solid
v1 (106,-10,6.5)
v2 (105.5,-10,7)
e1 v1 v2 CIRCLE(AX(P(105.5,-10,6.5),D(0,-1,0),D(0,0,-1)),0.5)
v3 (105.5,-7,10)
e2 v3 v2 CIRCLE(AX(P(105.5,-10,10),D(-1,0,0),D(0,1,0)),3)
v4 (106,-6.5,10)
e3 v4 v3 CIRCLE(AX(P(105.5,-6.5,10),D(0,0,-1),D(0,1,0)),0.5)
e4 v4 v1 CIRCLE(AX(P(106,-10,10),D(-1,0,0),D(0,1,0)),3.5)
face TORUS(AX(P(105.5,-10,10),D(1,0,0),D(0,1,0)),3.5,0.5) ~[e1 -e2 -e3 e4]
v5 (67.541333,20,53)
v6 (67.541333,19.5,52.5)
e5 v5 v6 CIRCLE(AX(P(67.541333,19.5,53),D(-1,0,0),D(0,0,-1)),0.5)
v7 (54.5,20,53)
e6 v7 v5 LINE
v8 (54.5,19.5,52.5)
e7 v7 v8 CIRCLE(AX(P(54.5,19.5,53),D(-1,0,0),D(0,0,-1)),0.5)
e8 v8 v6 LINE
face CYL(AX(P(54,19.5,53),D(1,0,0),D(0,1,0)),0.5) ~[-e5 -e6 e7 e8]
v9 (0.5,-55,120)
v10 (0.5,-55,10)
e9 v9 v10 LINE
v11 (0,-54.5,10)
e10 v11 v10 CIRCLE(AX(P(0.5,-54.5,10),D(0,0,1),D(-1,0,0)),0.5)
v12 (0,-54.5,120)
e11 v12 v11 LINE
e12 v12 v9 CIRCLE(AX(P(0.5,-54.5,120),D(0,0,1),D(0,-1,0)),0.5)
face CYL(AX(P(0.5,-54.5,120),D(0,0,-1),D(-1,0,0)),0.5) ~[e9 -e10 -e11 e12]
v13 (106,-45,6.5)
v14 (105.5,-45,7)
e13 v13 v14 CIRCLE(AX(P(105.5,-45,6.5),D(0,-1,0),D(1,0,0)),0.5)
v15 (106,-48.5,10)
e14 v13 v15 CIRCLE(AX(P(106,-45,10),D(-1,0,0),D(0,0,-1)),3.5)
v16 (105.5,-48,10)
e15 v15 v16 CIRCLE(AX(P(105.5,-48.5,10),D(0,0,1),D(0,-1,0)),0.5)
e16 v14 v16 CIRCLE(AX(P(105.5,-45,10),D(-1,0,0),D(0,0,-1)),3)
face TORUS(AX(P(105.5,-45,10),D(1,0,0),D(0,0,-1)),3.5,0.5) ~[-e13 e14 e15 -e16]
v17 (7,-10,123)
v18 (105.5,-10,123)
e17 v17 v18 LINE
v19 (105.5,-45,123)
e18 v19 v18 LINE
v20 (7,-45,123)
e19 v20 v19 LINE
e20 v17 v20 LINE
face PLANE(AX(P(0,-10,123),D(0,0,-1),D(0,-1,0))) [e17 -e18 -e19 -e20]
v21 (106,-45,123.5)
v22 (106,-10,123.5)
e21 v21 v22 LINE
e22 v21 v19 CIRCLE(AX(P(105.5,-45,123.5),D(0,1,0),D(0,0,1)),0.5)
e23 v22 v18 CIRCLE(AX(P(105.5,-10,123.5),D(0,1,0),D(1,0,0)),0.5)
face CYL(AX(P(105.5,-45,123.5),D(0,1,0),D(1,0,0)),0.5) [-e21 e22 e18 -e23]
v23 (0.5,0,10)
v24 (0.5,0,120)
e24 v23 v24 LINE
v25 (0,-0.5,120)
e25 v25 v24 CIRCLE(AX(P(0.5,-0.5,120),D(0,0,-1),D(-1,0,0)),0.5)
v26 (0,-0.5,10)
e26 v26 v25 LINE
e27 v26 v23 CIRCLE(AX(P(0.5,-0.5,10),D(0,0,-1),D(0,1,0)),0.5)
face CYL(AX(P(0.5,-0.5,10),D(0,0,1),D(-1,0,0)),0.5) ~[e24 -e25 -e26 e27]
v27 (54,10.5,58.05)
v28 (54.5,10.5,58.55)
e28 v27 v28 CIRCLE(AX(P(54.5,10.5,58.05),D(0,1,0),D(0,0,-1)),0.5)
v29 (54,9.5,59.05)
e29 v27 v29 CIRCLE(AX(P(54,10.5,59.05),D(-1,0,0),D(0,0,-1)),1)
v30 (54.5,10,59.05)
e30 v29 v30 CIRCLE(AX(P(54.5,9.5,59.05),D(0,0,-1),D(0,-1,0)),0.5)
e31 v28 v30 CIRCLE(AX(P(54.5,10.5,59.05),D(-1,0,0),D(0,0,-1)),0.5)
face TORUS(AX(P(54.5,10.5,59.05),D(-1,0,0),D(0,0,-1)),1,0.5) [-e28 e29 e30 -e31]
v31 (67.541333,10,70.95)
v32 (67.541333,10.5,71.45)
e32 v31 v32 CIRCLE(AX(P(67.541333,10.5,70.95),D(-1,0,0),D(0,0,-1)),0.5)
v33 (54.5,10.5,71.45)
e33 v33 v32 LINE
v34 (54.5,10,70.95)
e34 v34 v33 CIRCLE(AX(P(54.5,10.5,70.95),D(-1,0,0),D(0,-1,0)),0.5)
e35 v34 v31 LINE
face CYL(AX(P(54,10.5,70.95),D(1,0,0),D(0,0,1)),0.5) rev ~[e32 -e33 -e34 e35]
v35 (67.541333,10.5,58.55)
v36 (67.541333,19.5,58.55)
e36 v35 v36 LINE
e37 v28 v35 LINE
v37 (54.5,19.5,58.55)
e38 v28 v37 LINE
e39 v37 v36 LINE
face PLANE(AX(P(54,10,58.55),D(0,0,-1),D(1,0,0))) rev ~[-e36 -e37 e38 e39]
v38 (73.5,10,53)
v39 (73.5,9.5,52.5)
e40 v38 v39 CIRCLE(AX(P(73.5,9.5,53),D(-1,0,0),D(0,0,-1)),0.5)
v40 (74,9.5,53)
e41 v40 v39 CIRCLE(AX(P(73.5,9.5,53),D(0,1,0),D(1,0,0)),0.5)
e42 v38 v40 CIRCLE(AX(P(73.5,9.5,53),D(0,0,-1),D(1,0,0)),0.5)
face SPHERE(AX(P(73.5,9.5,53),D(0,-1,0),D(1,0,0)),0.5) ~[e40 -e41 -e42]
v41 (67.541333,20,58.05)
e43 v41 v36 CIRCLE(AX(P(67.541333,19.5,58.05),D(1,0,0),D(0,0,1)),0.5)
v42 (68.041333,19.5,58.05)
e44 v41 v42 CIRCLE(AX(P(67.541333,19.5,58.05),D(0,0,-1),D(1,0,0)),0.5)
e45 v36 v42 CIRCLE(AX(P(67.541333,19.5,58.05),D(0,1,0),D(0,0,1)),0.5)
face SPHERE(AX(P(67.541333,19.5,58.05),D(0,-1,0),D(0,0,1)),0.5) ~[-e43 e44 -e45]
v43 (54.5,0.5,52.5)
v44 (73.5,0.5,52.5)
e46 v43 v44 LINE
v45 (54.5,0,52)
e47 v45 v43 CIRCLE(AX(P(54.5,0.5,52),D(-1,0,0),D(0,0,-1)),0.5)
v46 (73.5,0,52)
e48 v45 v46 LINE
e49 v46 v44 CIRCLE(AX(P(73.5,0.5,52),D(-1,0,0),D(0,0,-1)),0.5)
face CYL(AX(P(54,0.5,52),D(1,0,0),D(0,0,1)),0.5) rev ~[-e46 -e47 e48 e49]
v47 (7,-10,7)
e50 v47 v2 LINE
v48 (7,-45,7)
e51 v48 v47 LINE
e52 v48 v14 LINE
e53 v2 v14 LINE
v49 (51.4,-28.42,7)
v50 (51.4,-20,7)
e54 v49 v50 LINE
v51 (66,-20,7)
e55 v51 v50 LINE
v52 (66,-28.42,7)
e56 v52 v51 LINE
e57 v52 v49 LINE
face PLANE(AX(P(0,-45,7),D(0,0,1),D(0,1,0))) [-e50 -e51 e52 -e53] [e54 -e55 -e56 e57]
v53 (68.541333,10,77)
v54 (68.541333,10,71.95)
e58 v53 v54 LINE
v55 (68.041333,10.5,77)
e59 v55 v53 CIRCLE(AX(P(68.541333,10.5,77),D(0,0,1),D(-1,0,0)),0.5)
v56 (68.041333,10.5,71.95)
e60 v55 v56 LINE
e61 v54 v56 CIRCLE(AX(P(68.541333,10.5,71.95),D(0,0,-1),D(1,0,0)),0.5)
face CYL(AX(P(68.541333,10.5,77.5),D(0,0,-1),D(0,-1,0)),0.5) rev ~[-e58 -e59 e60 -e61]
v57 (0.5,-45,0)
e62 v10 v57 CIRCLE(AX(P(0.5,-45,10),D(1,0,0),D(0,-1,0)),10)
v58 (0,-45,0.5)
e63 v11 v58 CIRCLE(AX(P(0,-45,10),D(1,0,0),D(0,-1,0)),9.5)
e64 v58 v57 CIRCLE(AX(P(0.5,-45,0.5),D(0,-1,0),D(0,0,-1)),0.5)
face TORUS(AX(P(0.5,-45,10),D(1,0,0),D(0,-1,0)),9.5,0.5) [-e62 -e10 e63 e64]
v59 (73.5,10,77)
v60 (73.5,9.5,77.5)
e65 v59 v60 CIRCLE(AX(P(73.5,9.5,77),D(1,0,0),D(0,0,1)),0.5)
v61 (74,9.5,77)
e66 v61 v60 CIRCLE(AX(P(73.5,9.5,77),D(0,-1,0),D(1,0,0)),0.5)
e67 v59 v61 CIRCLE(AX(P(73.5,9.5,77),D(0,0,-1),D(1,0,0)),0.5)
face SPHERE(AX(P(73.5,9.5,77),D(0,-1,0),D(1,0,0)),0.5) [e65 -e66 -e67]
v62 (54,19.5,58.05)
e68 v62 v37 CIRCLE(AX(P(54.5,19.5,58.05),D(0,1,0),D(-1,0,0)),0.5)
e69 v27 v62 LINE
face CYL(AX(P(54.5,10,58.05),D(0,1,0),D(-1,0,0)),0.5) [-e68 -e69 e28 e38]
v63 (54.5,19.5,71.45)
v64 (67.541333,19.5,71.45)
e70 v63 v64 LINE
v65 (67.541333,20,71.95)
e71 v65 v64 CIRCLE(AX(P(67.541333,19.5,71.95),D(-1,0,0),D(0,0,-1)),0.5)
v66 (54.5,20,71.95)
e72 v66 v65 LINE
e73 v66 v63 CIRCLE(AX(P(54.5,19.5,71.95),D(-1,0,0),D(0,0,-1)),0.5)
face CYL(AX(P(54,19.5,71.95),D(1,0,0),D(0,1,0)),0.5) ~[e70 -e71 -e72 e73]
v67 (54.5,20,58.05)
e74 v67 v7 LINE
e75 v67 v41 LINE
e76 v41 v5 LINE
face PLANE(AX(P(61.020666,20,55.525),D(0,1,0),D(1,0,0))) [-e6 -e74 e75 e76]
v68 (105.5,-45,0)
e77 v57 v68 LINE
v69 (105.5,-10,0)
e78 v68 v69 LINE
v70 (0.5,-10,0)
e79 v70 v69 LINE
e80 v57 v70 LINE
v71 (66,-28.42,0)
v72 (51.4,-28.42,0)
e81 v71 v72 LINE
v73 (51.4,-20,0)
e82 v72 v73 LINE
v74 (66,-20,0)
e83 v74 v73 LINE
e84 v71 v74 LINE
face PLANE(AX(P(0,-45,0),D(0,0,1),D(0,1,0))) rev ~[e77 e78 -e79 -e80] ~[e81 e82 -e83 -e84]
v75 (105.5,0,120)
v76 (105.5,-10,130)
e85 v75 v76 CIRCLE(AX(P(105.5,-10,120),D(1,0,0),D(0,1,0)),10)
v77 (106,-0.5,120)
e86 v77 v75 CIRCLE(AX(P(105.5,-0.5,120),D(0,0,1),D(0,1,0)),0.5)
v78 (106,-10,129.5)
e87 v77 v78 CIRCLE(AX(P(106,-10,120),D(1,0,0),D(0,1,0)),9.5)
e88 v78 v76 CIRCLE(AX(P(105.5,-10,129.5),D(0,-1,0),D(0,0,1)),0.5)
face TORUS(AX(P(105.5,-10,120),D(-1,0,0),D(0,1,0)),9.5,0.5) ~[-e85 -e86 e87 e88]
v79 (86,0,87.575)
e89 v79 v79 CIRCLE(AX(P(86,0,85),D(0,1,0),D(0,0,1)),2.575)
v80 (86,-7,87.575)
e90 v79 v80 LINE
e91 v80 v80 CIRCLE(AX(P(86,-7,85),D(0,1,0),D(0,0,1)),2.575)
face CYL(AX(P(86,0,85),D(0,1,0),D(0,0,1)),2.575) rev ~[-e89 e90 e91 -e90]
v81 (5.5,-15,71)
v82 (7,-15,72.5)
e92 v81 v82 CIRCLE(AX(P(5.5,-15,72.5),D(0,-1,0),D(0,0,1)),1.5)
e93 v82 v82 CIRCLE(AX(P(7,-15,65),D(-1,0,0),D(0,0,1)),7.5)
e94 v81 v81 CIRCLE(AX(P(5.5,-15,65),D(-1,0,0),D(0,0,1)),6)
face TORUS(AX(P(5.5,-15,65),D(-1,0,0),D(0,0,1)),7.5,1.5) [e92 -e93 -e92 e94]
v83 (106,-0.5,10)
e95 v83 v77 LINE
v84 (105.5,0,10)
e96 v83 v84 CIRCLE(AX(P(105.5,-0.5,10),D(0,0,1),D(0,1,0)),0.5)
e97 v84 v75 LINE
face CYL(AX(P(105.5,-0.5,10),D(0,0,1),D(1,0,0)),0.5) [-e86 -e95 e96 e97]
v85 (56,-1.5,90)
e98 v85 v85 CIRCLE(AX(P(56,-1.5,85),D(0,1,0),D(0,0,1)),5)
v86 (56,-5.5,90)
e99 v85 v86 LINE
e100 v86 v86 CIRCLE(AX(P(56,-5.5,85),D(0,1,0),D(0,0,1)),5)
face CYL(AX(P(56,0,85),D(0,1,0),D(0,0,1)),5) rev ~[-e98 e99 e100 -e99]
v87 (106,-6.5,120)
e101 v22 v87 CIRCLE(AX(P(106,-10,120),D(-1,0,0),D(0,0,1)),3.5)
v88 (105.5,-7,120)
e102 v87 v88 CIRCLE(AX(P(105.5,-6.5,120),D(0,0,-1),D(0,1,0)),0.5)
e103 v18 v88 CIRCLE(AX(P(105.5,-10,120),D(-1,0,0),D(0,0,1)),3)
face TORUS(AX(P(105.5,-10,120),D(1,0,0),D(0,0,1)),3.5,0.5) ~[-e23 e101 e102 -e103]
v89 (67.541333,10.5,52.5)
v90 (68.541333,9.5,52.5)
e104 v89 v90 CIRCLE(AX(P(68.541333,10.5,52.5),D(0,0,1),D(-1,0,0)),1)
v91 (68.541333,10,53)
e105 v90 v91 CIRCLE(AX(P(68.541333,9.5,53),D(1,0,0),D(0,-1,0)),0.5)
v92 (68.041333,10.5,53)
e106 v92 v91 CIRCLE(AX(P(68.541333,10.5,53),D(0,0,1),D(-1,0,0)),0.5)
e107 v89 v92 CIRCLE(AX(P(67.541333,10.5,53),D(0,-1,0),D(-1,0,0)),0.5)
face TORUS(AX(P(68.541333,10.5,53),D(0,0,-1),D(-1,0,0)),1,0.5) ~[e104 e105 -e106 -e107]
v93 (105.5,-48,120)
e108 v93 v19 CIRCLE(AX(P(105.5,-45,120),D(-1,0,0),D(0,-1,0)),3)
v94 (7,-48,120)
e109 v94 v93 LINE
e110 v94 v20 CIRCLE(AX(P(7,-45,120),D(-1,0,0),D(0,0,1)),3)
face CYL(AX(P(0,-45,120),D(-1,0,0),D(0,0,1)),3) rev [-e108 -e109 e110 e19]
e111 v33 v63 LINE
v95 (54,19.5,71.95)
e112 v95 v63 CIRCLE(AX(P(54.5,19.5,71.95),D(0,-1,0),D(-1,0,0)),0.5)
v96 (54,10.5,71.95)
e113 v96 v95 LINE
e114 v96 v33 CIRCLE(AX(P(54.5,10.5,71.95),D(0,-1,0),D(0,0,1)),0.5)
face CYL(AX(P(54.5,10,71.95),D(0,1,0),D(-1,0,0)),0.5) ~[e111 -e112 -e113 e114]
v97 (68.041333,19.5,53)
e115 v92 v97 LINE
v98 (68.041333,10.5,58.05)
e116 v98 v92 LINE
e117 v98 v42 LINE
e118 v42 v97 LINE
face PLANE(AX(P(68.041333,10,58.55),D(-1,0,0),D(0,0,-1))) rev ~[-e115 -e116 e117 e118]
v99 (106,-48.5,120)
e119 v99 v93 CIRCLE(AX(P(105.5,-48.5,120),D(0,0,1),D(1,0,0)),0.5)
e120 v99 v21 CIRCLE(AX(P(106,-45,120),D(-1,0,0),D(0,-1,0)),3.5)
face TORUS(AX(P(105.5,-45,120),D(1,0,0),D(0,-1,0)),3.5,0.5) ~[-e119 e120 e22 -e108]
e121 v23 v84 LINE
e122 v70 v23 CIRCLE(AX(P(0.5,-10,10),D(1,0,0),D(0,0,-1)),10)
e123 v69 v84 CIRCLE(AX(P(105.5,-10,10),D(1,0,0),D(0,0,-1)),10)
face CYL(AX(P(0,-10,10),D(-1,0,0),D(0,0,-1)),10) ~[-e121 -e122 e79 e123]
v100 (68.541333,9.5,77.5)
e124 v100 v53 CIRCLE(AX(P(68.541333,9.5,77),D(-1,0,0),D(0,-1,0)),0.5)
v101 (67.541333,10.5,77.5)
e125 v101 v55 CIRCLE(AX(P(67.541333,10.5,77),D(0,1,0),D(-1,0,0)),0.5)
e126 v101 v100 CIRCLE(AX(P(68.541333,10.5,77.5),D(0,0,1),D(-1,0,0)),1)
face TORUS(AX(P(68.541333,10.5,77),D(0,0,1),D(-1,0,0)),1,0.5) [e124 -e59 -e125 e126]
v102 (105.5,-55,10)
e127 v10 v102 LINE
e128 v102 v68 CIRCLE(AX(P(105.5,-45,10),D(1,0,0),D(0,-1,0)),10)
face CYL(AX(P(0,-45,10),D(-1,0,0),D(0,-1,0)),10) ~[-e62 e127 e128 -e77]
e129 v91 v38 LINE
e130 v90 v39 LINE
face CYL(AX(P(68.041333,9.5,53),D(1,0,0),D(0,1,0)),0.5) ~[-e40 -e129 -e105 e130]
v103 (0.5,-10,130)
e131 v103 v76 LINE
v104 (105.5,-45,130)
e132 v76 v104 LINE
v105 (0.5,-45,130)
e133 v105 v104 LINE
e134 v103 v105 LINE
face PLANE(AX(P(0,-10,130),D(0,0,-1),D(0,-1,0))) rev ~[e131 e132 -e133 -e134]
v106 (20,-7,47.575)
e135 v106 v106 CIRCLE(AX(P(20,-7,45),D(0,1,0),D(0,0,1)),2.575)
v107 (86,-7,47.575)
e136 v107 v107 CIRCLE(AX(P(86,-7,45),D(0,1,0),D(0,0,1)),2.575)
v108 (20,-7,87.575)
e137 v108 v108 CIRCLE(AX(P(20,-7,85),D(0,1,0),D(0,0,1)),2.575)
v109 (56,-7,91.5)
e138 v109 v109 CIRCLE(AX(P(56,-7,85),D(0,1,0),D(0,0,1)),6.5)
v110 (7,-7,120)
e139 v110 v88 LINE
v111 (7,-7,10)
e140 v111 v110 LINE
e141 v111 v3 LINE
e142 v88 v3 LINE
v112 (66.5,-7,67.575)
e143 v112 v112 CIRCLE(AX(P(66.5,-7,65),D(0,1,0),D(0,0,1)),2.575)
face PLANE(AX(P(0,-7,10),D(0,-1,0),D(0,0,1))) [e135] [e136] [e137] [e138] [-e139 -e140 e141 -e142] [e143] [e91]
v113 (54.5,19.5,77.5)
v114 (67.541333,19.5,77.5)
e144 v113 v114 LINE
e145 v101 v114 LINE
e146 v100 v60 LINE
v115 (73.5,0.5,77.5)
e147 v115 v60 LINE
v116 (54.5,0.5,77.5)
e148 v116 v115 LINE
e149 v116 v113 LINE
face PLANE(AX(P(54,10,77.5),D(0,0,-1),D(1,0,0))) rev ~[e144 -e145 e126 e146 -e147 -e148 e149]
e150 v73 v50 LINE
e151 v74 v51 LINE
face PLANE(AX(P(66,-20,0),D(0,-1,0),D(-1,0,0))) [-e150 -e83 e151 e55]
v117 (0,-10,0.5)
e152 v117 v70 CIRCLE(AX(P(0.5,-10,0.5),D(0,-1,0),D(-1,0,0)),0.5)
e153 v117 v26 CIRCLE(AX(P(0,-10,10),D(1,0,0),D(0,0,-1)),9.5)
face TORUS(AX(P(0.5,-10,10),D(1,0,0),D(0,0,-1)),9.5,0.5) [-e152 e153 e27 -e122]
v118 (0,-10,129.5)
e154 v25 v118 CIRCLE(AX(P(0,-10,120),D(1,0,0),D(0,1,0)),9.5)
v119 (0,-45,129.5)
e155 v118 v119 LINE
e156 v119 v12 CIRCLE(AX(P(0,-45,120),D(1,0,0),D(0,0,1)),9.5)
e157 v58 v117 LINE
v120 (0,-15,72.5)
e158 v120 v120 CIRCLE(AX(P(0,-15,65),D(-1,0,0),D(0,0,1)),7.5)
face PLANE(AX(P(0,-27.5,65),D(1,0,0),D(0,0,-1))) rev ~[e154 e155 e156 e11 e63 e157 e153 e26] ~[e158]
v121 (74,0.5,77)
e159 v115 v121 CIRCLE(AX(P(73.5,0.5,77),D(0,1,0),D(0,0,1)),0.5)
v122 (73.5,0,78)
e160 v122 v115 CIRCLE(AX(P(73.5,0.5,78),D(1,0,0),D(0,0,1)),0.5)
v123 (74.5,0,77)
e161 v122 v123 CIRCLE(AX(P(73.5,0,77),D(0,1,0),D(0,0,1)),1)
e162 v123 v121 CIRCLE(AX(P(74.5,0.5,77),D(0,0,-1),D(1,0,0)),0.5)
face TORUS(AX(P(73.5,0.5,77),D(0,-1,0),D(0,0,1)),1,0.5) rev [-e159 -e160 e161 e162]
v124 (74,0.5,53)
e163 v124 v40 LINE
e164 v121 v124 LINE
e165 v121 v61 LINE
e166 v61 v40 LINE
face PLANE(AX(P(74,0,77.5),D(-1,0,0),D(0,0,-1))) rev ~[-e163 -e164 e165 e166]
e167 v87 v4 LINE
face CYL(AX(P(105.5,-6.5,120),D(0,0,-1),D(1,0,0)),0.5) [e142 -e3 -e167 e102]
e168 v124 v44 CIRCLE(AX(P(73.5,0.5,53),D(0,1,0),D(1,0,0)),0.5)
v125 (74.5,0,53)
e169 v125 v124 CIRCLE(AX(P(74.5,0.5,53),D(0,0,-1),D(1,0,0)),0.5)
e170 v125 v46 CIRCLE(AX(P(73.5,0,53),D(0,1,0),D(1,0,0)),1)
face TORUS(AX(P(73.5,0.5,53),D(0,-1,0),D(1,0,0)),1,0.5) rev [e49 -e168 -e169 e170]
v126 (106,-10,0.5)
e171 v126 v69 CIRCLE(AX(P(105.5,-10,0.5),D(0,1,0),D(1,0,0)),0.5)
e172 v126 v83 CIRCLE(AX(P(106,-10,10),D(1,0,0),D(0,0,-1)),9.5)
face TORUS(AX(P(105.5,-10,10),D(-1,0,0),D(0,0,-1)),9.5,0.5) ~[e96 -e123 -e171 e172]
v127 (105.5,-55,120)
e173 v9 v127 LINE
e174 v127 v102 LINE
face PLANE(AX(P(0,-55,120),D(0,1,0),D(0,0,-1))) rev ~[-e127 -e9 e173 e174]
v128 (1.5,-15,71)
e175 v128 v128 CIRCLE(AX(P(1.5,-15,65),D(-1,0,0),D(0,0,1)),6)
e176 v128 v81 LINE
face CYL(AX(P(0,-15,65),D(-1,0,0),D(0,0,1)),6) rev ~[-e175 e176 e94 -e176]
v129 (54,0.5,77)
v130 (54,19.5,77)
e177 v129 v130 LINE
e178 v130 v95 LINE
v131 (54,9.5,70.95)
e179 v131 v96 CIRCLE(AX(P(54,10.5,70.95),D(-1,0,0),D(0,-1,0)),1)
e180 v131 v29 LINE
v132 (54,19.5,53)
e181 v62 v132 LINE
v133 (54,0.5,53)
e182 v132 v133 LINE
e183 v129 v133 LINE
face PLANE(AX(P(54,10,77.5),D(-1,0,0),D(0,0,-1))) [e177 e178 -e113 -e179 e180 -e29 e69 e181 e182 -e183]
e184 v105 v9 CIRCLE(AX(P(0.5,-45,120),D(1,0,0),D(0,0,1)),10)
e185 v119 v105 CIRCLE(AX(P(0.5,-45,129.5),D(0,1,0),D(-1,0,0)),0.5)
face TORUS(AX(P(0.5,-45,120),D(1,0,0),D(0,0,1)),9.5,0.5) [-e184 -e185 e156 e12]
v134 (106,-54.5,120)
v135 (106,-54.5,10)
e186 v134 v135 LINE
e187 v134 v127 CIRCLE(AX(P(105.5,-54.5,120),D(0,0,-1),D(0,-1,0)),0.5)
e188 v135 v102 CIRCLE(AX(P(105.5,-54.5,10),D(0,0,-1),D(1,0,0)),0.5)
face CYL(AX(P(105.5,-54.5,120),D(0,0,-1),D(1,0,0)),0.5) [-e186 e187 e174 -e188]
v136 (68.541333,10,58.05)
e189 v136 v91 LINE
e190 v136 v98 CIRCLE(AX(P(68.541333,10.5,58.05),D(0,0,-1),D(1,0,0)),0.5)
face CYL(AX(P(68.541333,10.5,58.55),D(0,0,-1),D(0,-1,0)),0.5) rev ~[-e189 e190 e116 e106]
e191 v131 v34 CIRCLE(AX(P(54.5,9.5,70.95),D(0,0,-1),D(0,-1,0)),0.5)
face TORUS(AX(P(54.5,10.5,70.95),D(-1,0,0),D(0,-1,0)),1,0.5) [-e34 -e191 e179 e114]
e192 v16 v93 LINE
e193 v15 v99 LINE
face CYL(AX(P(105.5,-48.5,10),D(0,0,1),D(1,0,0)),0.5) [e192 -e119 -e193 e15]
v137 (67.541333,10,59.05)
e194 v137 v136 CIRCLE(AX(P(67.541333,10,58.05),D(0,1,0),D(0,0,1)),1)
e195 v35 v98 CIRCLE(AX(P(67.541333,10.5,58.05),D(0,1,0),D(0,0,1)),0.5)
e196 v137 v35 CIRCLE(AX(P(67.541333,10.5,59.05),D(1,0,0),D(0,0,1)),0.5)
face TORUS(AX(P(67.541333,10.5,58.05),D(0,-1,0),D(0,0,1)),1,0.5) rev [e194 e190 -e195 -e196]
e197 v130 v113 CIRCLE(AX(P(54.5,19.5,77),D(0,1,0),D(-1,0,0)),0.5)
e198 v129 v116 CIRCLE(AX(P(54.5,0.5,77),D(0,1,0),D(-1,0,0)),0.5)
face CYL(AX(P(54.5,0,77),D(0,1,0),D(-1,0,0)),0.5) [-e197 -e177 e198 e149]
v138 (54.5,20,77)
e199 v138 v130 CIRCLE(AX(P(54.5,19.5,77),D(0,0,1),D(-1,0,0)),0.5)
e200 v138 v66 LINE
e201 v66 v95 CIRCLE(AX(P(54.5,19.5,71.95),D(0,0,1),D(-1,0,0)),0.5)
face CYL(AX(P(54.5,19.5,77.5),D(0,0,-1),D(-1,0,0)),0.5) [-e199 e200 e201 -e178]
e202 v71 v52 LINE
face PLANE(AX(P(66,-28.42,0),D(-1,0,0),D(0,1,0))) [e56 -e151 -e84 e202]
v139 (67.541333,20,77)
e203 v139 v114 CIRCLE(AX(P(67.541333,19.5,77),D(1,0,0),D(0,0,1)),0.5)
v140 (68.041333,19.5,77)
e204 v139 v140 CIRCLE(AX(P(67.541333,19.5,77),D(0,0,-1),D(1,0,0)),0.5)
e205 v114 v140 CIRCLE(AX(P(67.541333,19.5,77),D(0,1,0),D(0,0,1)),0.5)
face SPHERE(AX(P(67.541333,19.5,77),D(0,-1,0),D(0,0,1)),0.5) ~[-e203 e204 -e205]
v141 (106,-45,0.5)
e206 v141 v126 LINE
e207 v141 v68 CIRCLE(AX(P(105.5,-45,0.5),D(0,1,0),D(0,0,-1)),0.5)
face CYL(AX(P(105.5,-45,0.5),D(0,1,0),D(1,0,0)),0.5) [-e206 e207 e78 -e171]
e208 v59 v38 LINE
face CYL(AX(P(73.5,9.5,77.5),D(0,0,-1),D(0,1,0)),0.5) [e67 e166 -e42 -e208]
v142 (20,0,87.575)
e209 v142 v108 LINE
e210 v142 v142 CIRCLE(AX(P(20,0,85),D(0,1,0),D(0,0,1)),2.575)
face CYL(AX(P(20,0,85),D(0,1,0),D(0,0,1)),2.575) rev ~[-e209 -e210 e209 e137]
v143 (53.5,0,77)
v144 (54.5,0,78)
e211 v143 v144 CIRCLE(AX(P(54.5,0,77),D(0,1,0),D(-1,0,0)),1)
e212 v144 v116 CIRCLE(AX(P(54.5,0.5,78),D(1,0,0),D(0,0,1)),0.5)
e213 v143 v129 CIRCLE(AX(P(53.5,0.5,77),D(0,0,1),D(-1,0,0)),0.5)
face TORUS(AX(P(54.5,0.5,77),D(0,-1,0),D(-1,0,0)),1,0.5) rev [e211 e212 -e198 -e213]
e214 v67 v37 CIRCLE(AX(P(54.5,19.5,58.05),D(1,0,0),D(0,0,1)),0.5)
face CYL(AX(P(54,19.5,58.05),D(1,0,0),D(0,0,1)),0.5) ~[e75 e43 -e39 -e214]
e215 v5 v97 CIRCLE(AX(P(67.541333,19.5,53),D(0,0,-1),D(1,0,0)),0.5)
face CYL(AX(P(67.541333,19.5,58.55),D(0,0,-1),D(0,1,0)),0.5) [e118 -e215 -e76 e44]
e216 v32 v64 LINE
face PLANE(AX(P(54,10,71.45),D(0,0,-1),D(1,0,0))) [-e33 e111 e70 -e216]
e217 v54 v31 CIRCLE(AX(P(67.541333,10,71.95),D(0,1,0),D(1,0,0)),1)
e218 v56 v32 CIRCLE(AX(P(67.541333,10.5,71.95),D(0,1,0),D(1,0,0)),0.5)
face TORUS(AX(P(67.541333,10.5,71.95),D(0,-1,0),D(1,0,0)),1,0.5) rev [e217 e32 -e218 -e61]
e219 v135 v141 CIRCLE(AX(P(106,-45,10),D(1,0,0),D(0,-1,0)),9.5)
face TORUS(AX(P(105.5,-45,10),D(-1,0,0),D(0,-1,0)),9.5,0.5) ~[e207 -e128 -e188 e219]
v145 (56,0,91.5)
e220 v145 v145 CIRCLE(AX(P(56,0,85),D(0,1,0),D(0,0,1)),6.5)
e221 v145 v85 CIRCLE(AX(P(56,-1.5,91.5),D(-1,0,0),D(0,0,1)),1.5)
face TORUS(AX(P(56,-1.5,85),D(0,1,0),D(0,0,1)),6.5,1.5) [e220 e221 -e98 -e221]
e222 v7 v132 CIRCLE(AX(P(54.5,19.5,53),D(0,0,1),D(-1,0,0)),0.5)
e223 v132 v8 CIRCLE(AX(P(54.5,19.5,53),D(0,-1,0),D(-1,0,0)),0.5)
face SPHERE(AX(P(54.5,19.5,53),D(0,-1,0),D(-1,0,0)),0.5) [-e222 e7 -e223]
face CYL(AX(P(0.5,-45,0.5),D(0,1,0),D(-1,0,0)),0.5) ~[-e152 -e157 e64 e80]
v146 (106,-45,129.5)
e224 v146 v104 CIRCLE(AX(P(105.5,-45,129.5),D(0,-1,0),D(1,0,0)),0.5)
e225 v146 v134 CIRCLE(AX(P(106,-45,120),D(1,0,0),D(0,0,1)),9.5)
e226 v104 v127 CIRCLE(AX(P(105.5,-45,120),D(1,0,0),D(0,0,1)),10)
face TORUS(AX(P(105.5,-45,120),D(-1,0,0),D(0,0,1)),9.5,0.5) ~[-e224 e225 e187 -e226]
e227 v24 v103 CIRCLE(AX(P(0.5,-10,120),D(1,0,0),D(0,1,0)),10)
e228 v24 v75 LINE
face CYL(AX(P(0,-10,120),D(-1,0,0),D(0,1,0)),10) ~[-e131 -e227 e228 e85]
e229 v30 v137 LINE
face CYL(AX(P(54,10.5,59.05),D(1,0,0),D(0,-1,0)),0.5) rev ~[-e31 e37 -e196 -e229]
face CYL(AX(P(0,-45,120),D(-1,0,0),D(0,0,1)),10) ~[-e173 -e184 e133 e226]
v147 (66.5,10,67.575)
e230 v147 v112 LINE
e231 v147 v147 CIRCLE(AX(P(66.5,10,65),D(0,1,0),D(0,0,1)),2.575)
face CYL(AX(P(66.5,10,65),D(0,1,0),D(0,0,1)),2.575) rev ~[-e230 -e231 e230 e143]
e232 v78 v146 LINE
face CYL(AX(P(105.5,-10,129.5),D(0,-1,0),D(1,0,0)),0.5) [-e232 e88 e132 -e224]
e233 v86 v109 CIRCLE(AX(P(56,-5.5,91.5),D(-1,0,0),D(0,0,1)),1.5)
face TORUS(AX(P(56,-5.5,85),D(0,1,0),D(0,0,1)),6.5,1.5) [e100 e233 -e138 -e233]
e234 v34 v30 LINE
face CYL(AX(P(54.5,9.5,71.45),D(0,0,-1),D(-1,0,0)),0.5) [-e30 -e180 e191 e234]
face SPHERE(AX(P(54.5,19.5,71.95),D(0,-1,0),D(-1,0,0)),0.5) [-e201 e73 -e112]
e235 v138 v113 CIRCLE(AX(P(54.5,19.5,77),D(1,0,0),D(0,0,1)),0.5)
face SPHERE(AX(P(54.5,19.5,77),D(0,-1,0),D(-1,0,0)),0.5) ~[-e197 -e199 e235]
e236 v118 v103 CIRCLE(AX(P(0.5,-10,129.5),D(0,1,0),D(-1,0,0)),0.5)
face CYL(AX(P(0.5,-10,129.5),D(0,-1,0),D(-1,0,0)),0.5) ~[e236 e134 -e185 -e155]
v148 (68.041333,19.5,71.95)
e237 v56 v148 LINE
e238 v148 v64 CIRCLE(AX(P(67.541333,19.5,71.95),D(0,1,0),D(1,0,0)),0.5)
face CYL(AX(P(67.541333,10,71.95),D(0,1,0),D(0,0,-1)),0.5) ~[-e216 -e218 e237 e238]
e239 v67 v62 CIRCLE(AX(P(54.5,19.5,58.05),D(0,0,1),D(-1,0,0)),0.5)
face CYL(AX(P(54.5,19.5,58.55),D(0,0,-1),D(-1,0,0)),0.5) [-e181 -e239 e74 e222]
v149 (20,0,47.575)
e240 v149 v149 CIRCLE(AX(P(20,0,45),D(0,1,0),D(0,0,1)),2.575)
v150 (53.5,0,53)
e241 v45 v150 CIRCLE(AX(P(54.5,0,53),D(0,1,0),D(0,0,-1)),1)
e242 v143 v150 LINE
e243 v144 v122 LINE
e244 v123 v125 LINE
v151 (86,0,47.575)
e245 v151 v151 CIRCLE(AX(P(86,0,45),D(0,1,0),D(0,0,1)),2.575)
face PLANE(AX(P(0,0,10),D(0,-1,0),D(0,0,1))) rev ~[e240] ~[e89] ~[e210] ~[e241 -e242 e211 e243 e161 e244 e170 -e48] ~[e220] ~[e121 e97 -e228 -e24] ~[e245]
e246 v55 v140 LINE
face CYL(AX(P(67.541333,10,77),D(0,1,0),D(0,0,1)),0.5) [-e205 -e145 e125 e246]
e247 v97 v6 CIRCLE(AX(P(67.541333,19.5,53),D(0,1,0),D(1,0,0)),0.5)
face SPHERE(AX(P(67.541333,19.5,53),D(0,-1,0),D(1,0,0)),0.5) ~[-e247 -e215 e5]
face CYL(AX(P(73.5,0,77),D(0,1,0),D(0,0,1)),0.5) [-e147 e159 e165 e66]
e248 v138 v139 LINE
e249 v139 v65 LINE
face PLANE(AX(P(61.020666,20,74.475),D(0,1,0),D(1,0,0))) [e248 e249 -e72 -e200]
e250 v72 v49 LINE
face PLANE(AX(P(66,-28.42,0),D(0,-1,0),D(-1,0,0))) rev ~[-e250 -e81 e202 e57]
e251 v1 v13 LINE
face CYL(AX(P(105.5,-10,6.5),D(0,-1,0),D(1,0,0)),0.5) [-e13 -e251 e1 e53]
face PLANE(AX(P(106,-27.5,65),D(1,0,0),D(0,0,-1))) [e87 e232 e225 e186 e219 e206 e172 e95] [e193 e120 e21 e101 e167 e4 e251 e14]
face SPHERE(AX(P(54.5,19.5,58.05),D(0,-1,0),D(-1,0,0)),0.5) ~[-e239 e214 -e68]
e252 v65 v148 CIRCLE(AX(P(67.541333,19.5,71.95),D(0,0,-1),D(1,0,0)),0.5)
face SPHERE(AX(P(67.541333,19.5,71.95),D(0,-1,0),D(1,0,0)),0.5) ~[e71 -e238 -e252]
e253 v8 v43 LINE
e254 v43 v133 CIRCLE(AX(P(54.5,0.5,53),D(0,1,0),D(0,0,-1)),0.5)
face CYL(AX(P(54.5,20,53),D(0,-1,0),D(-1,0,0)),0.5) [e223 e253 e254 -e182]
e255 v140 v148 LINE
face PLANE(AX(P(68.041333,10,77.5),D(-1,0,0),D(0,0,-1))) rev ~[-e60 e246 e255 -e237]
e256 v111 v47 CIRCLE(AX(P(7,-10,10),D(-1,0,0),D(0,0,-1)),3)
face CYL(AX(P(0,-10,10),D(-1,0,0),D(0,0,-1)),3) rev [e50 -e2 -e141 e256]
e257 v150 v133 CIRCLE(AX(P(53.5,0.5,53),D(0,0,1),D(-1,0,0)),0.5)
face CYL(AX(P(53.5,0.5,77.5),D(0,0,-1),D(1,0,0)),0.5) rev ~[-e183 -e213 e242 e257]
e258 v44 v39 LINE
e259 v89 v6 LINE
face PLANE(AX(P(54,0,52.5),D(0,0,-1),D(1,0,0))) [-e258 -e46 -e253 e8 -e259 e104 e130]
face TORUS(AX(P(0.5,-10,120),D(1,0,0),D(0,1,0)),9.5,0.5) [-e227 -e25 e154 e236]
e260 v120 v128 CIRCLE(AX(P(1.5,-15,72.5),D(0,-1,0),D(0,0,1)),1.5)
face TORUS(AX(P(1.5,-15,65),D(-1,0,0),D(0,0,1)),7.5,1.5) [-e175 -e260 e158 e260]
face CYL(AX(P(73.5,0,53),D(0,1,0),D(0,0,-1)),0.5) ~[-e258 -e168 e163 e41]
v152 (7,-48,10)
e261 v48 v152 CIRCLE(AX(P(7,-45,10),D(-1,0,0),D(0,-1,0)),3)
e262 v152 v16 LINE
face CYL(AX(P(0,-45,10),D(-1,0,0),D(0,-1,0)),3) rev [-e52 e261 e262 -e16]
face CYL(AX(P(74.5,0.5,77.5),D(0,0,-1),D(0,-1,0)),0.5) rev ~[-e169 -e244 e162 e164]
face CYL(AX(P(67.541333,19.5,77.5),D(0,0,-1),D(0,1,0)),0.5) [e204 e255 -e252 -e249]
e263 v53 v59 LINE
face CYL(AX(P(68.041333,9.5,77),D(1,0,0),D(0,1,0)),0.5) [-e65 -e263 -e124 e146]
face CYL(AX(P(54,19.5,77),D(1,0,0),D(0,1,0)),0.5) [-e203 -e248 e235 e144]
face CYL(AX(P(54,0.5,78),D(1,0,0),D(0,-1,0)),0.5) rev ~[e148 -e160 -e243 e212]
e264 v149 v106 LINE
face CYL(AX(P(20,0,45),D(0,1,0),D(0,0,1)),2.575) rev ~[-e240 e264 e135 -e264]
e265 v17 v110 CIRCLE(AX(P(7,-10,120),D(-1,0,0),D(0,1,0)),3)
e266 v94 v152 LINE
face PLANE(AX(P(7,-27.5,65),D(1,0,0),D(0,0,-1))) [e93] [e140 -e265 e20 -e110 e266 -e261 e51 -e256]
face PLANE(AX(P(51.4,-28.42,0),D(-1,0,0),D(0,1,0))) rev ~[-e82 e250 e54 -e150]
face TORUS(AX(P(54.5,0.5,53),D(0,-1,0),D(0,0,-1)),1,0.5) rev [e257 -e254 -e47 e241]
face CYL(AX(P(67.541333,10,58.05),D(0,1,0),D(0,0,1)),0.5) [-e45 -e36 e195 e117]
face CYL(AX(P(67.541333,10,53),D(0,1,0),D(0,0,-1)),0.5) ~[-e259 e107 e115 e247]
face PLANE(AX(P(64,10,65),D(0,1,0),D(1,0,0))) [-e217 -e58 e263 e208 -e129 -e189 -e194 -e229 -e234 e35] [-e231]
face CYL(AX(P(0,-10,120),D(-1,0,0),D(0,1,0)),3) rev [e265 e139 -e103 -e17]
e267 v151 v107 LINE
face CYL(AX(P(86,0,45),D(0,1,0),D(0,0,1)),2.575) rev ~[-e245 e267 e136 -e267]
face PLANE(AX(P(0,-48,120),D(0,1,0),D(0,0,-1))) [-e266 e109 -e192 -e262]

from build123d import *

# Parameters (mm, degrees)
BOSS_EXTRUDE1_DEPTH = 106
SHELL1_T            = -7
SKETCH2_W           = 20
SKETCH2_H           = 25
BOSS_EXTRUDE2_DEPTH = 10
SKETCH3_W           = 14.041332882
SKETCH3_H           = 6.05
BOSS_EXTRUDE3_DEPTH = 10
SKETCH4_R           = 2.575
CUT_EXTRUDE1_DEPTH  = 17
SKETCH5_R           = 2.575
CUT_EXTRUDE2_DEPTH  = 7
FILLET1_R           = 0.5
SKETCH6_W           = 14.6
SKETCH6_H           = 8.42
CUT_EXTRUDE3_DEPTH  = 7
SKETCH7_R           = 5
CUT_EXTRUDE4_DEPTH  = 7
SKETCH8_R           = 6
CUT_EXTRUDE5_DEPTH  = 7
FILLET2_R           = 0.5
FILLET4_R           = 1.5


with BuildPart() as part:
    # Sketch1 → Boss-Extrude1 (new body)
    with BuildSketch(Plane(origin=(0, 0, 0), x_dir=(0, 0, -1), z_dir=(1, 0, 0))):
        with BuildLine():
            Line((-10, 0), (-120, 0))
            ThreePointArc((-120, 0), (-127.071067812, -2.928932188), (-130, -10))
            Line((-130, -10), (-130, -45))
            ThreePointArc((-130, -45), (-127.071067812, -52.071067812), (-120, -55))
            Line((-120, -55), (-10, -55))
            ThreePointArc((-10, -55), (-2.928932188, -52.071067812), (0, -45))
            Line((0, -45), (0, -10))
            ThreePointArc((0, -10), (-2.928932188, -2.928932188), (-10, 0))
        make_face()
    extrude(amount=BOSS_EXTRUDE1_DEPTH)

    # Shell1
    shell1_openings = [part.faces().sort_by_distance(p)[0] for p in [
        (106, -27.5, 65),
    ]]
    offset(amount=SHELL1_T, openings=shell1_openings, kind=Kind.INTERSECTION)

    # Sketch2 → Boss-Extrude2 (add)
    with BuildSketch(Plane(origin=(0, 0, 0), x_dir=(1, 0, 0), z_dir=(0, 1, 0))):
        with Locations((64, -65)):
            Rectangle(SKETCH2_W, SKETCH2_H)
    extrude(amount=BOSS_EXTRUDE2_DEPTH)

    # Sketch3 → Boss-Extrude3 (add)
    with BuildSketch(Plane(origin=(0, 10, 0), x_dir=(1, 0, 0), z_dir=(0, 1, 0))):
        with Locations((61.020666441, -74.475)):
            Rectangle(SKETCH3_W, SKETCH3_H)
        with Locations((61.020666441, -55.525)):
            Rectangle(SKETCH3_W, SKETCH3_H)
    extrude(amount=BOSS_EXTRUDE3_DEPTH)

    # Sketch4 → Cut-Extrude1 (cut)
    with BuildSketch(Plane(origin=(0, 10, 0), x_dir=(1, 0, 0), z_dir=(0, 1, 0))):
        with Locations(Location((66.5, -65, 0), (0, 0, 270))):
            Circle(SKETCH4_R)
    extrude(amount=-CUT_EXTRUDE1_DEPTH, mode=Mode.SUBTRACT)

    # Sketch5 → Cut-Extrude2 (cut)
    with BuildSketch(Plane(origin=(0, 0, 0), x_dir=(1, 0, 0), z_dir=(0, 1, 0))):
        with Locations(Location((20, -85, 0), (0, 0, 270))):
            Circle(SKETCH5_R)
        with Locations(Location((20, -45, 0), (0, 0, 270))):
            Circle(SKETCH5_R)
        with Locations(Location((86, -45, 0), (0, 0, 270))):
            Circle(SKETCH5_R)
        with Locations(Location((86, -85, 0), (0, 0, 270))):
            Circle(SKETCH5_R)
    extrude(amount=-CUT_EXTRUDE2_DEPTH, mode=Mode.SUBTRACT)

    # Fillet1
    fillet1_edges = [part.edges().sort_by_distance(p)[0] for p in [
        (74, 0, 65),
        (74, 5, 77.5),
        (64, 0, 52.5),
        (74, 5, 52.5),
        (54, 0, 65),
        (54, 10, 52.5),
        (64, 0, 77.5),
        (54, 10, 77.5),
        (74, 10, 65),
        (71.020666441, 10, 52.5),
        (71.020666441, 10, 77.5),
        (54, 15, 71.45),
        (68.041332882, 10, 74.475),
        (68.041332882, 15, 77.5),
        (61.020666441, 10, 71.45),
        (68.041332882, 15, 71.45),
        (54, 20, 74.475),
        (61.020666441, 20, 77.5),
        (68.041332882, 20, 74.475),
        (61.020666441, 20, 71.45),
        (54, 10, 65),
        (61.020666441, 10, 58.55),
        (54, 15, 58.55),
        (68.041332882, 10, 55.525),
        (68.041332882, 15, 58.55),
        (68.041332882, 15, 52.5),
        (54, 20, 55.525),
        (61.020666441, 20, 58.55),
        (68.041332882, 20, 55.525),
        (61.020666441, 20, 52.5),
    ]]
    fillet(fillet1_edges, radius=FILLET1_R)

    # Sketch6 → Cut-Extrude3 (cut)
    with BuildSketch(Plane(origin=(0, 0, 0), x_dir=(-1, 0, 0), z_dir=(0, 0, -1))):
        with Locations((-58.7, -24.21)):
            Rectangle(SKETCH6_W, SKETCH6_H)
    extrude(amount=-CUT_EXTRUDE3_DEPTH, mode=Mode.SUBTRACT)

    # Sketch7 → Cut-Extrude4 (cut)
    with BuildSketch(Plane(origin=(0, 0, 0), x_dir=(1, 0, 0), z_dir=(0, 1, 0))):
        with Locations(Location((56, -85, 0), (0, 0, 270))):
            Circle(SKETCH7_R)
    extrude(amount=-CUT_EXTRUDE4_DEPTH, mode=Mode.SUBTRACT)

    # Sketch8 → Cut-Extrude5 (cut)
    with BuildSketch(Plane.ZY):
        with Locations((65, -15)):
            Circle(SKETCH8_R)
    extrude(amount=-CUT_EXTRUDE5_DEPTH, mode=Mode.SUBTRACT)

    # Fillet2
    fillet2_edges = [part.edges().sort_by_distance(p)[0] for p in [
        (0, -27.5, 130),
        (0, -2.928932188, 127.071067812),
        (0, 0, 65),
        (0, -2.928932188, 2.928932188),
        (106, -2.928932188, 127.071067812),
        (106, -27.5, 130),
        (106, -52.071067812, 127.071067812),
        (106, -55, 65),
        (106, -52.071067812, 2.928932188),
        (106, -7.878679656, 7.878679656),
        (106, -7, 65),
        (106, -7.878679656, 122.121320344),
        (106, -27.5, 123),
        (106, -47.121320344, 122.121320344),
        (106, -48, 65),
        (106, -47.121320344, 7.878679656),
        (106, -27.5, 7),
        (106, -27.5, 0),
        (106, -2.928932188, 2.928932188),
        (0, -27.5, 0),
        (106, 0, 65),
        (0, -52.071067812, 2.928932188),
        (0, -55, 65),
        (0, -52.071067812, 127.071067812),
    ]]
    fillet(fillet2_edges, radius=FILLET2_R)

    # Fillet4
    fillet4_edges = [part.edges().sort_by_distance(p)[0] for p in [
        (56, 0, 80),
        (56, -7, 80),
        (0, -15, 59),
        (7, -15, 59),
    ]]
    fillet(fillet4_edges, radius=FILLET4_R)


solid = part.part
